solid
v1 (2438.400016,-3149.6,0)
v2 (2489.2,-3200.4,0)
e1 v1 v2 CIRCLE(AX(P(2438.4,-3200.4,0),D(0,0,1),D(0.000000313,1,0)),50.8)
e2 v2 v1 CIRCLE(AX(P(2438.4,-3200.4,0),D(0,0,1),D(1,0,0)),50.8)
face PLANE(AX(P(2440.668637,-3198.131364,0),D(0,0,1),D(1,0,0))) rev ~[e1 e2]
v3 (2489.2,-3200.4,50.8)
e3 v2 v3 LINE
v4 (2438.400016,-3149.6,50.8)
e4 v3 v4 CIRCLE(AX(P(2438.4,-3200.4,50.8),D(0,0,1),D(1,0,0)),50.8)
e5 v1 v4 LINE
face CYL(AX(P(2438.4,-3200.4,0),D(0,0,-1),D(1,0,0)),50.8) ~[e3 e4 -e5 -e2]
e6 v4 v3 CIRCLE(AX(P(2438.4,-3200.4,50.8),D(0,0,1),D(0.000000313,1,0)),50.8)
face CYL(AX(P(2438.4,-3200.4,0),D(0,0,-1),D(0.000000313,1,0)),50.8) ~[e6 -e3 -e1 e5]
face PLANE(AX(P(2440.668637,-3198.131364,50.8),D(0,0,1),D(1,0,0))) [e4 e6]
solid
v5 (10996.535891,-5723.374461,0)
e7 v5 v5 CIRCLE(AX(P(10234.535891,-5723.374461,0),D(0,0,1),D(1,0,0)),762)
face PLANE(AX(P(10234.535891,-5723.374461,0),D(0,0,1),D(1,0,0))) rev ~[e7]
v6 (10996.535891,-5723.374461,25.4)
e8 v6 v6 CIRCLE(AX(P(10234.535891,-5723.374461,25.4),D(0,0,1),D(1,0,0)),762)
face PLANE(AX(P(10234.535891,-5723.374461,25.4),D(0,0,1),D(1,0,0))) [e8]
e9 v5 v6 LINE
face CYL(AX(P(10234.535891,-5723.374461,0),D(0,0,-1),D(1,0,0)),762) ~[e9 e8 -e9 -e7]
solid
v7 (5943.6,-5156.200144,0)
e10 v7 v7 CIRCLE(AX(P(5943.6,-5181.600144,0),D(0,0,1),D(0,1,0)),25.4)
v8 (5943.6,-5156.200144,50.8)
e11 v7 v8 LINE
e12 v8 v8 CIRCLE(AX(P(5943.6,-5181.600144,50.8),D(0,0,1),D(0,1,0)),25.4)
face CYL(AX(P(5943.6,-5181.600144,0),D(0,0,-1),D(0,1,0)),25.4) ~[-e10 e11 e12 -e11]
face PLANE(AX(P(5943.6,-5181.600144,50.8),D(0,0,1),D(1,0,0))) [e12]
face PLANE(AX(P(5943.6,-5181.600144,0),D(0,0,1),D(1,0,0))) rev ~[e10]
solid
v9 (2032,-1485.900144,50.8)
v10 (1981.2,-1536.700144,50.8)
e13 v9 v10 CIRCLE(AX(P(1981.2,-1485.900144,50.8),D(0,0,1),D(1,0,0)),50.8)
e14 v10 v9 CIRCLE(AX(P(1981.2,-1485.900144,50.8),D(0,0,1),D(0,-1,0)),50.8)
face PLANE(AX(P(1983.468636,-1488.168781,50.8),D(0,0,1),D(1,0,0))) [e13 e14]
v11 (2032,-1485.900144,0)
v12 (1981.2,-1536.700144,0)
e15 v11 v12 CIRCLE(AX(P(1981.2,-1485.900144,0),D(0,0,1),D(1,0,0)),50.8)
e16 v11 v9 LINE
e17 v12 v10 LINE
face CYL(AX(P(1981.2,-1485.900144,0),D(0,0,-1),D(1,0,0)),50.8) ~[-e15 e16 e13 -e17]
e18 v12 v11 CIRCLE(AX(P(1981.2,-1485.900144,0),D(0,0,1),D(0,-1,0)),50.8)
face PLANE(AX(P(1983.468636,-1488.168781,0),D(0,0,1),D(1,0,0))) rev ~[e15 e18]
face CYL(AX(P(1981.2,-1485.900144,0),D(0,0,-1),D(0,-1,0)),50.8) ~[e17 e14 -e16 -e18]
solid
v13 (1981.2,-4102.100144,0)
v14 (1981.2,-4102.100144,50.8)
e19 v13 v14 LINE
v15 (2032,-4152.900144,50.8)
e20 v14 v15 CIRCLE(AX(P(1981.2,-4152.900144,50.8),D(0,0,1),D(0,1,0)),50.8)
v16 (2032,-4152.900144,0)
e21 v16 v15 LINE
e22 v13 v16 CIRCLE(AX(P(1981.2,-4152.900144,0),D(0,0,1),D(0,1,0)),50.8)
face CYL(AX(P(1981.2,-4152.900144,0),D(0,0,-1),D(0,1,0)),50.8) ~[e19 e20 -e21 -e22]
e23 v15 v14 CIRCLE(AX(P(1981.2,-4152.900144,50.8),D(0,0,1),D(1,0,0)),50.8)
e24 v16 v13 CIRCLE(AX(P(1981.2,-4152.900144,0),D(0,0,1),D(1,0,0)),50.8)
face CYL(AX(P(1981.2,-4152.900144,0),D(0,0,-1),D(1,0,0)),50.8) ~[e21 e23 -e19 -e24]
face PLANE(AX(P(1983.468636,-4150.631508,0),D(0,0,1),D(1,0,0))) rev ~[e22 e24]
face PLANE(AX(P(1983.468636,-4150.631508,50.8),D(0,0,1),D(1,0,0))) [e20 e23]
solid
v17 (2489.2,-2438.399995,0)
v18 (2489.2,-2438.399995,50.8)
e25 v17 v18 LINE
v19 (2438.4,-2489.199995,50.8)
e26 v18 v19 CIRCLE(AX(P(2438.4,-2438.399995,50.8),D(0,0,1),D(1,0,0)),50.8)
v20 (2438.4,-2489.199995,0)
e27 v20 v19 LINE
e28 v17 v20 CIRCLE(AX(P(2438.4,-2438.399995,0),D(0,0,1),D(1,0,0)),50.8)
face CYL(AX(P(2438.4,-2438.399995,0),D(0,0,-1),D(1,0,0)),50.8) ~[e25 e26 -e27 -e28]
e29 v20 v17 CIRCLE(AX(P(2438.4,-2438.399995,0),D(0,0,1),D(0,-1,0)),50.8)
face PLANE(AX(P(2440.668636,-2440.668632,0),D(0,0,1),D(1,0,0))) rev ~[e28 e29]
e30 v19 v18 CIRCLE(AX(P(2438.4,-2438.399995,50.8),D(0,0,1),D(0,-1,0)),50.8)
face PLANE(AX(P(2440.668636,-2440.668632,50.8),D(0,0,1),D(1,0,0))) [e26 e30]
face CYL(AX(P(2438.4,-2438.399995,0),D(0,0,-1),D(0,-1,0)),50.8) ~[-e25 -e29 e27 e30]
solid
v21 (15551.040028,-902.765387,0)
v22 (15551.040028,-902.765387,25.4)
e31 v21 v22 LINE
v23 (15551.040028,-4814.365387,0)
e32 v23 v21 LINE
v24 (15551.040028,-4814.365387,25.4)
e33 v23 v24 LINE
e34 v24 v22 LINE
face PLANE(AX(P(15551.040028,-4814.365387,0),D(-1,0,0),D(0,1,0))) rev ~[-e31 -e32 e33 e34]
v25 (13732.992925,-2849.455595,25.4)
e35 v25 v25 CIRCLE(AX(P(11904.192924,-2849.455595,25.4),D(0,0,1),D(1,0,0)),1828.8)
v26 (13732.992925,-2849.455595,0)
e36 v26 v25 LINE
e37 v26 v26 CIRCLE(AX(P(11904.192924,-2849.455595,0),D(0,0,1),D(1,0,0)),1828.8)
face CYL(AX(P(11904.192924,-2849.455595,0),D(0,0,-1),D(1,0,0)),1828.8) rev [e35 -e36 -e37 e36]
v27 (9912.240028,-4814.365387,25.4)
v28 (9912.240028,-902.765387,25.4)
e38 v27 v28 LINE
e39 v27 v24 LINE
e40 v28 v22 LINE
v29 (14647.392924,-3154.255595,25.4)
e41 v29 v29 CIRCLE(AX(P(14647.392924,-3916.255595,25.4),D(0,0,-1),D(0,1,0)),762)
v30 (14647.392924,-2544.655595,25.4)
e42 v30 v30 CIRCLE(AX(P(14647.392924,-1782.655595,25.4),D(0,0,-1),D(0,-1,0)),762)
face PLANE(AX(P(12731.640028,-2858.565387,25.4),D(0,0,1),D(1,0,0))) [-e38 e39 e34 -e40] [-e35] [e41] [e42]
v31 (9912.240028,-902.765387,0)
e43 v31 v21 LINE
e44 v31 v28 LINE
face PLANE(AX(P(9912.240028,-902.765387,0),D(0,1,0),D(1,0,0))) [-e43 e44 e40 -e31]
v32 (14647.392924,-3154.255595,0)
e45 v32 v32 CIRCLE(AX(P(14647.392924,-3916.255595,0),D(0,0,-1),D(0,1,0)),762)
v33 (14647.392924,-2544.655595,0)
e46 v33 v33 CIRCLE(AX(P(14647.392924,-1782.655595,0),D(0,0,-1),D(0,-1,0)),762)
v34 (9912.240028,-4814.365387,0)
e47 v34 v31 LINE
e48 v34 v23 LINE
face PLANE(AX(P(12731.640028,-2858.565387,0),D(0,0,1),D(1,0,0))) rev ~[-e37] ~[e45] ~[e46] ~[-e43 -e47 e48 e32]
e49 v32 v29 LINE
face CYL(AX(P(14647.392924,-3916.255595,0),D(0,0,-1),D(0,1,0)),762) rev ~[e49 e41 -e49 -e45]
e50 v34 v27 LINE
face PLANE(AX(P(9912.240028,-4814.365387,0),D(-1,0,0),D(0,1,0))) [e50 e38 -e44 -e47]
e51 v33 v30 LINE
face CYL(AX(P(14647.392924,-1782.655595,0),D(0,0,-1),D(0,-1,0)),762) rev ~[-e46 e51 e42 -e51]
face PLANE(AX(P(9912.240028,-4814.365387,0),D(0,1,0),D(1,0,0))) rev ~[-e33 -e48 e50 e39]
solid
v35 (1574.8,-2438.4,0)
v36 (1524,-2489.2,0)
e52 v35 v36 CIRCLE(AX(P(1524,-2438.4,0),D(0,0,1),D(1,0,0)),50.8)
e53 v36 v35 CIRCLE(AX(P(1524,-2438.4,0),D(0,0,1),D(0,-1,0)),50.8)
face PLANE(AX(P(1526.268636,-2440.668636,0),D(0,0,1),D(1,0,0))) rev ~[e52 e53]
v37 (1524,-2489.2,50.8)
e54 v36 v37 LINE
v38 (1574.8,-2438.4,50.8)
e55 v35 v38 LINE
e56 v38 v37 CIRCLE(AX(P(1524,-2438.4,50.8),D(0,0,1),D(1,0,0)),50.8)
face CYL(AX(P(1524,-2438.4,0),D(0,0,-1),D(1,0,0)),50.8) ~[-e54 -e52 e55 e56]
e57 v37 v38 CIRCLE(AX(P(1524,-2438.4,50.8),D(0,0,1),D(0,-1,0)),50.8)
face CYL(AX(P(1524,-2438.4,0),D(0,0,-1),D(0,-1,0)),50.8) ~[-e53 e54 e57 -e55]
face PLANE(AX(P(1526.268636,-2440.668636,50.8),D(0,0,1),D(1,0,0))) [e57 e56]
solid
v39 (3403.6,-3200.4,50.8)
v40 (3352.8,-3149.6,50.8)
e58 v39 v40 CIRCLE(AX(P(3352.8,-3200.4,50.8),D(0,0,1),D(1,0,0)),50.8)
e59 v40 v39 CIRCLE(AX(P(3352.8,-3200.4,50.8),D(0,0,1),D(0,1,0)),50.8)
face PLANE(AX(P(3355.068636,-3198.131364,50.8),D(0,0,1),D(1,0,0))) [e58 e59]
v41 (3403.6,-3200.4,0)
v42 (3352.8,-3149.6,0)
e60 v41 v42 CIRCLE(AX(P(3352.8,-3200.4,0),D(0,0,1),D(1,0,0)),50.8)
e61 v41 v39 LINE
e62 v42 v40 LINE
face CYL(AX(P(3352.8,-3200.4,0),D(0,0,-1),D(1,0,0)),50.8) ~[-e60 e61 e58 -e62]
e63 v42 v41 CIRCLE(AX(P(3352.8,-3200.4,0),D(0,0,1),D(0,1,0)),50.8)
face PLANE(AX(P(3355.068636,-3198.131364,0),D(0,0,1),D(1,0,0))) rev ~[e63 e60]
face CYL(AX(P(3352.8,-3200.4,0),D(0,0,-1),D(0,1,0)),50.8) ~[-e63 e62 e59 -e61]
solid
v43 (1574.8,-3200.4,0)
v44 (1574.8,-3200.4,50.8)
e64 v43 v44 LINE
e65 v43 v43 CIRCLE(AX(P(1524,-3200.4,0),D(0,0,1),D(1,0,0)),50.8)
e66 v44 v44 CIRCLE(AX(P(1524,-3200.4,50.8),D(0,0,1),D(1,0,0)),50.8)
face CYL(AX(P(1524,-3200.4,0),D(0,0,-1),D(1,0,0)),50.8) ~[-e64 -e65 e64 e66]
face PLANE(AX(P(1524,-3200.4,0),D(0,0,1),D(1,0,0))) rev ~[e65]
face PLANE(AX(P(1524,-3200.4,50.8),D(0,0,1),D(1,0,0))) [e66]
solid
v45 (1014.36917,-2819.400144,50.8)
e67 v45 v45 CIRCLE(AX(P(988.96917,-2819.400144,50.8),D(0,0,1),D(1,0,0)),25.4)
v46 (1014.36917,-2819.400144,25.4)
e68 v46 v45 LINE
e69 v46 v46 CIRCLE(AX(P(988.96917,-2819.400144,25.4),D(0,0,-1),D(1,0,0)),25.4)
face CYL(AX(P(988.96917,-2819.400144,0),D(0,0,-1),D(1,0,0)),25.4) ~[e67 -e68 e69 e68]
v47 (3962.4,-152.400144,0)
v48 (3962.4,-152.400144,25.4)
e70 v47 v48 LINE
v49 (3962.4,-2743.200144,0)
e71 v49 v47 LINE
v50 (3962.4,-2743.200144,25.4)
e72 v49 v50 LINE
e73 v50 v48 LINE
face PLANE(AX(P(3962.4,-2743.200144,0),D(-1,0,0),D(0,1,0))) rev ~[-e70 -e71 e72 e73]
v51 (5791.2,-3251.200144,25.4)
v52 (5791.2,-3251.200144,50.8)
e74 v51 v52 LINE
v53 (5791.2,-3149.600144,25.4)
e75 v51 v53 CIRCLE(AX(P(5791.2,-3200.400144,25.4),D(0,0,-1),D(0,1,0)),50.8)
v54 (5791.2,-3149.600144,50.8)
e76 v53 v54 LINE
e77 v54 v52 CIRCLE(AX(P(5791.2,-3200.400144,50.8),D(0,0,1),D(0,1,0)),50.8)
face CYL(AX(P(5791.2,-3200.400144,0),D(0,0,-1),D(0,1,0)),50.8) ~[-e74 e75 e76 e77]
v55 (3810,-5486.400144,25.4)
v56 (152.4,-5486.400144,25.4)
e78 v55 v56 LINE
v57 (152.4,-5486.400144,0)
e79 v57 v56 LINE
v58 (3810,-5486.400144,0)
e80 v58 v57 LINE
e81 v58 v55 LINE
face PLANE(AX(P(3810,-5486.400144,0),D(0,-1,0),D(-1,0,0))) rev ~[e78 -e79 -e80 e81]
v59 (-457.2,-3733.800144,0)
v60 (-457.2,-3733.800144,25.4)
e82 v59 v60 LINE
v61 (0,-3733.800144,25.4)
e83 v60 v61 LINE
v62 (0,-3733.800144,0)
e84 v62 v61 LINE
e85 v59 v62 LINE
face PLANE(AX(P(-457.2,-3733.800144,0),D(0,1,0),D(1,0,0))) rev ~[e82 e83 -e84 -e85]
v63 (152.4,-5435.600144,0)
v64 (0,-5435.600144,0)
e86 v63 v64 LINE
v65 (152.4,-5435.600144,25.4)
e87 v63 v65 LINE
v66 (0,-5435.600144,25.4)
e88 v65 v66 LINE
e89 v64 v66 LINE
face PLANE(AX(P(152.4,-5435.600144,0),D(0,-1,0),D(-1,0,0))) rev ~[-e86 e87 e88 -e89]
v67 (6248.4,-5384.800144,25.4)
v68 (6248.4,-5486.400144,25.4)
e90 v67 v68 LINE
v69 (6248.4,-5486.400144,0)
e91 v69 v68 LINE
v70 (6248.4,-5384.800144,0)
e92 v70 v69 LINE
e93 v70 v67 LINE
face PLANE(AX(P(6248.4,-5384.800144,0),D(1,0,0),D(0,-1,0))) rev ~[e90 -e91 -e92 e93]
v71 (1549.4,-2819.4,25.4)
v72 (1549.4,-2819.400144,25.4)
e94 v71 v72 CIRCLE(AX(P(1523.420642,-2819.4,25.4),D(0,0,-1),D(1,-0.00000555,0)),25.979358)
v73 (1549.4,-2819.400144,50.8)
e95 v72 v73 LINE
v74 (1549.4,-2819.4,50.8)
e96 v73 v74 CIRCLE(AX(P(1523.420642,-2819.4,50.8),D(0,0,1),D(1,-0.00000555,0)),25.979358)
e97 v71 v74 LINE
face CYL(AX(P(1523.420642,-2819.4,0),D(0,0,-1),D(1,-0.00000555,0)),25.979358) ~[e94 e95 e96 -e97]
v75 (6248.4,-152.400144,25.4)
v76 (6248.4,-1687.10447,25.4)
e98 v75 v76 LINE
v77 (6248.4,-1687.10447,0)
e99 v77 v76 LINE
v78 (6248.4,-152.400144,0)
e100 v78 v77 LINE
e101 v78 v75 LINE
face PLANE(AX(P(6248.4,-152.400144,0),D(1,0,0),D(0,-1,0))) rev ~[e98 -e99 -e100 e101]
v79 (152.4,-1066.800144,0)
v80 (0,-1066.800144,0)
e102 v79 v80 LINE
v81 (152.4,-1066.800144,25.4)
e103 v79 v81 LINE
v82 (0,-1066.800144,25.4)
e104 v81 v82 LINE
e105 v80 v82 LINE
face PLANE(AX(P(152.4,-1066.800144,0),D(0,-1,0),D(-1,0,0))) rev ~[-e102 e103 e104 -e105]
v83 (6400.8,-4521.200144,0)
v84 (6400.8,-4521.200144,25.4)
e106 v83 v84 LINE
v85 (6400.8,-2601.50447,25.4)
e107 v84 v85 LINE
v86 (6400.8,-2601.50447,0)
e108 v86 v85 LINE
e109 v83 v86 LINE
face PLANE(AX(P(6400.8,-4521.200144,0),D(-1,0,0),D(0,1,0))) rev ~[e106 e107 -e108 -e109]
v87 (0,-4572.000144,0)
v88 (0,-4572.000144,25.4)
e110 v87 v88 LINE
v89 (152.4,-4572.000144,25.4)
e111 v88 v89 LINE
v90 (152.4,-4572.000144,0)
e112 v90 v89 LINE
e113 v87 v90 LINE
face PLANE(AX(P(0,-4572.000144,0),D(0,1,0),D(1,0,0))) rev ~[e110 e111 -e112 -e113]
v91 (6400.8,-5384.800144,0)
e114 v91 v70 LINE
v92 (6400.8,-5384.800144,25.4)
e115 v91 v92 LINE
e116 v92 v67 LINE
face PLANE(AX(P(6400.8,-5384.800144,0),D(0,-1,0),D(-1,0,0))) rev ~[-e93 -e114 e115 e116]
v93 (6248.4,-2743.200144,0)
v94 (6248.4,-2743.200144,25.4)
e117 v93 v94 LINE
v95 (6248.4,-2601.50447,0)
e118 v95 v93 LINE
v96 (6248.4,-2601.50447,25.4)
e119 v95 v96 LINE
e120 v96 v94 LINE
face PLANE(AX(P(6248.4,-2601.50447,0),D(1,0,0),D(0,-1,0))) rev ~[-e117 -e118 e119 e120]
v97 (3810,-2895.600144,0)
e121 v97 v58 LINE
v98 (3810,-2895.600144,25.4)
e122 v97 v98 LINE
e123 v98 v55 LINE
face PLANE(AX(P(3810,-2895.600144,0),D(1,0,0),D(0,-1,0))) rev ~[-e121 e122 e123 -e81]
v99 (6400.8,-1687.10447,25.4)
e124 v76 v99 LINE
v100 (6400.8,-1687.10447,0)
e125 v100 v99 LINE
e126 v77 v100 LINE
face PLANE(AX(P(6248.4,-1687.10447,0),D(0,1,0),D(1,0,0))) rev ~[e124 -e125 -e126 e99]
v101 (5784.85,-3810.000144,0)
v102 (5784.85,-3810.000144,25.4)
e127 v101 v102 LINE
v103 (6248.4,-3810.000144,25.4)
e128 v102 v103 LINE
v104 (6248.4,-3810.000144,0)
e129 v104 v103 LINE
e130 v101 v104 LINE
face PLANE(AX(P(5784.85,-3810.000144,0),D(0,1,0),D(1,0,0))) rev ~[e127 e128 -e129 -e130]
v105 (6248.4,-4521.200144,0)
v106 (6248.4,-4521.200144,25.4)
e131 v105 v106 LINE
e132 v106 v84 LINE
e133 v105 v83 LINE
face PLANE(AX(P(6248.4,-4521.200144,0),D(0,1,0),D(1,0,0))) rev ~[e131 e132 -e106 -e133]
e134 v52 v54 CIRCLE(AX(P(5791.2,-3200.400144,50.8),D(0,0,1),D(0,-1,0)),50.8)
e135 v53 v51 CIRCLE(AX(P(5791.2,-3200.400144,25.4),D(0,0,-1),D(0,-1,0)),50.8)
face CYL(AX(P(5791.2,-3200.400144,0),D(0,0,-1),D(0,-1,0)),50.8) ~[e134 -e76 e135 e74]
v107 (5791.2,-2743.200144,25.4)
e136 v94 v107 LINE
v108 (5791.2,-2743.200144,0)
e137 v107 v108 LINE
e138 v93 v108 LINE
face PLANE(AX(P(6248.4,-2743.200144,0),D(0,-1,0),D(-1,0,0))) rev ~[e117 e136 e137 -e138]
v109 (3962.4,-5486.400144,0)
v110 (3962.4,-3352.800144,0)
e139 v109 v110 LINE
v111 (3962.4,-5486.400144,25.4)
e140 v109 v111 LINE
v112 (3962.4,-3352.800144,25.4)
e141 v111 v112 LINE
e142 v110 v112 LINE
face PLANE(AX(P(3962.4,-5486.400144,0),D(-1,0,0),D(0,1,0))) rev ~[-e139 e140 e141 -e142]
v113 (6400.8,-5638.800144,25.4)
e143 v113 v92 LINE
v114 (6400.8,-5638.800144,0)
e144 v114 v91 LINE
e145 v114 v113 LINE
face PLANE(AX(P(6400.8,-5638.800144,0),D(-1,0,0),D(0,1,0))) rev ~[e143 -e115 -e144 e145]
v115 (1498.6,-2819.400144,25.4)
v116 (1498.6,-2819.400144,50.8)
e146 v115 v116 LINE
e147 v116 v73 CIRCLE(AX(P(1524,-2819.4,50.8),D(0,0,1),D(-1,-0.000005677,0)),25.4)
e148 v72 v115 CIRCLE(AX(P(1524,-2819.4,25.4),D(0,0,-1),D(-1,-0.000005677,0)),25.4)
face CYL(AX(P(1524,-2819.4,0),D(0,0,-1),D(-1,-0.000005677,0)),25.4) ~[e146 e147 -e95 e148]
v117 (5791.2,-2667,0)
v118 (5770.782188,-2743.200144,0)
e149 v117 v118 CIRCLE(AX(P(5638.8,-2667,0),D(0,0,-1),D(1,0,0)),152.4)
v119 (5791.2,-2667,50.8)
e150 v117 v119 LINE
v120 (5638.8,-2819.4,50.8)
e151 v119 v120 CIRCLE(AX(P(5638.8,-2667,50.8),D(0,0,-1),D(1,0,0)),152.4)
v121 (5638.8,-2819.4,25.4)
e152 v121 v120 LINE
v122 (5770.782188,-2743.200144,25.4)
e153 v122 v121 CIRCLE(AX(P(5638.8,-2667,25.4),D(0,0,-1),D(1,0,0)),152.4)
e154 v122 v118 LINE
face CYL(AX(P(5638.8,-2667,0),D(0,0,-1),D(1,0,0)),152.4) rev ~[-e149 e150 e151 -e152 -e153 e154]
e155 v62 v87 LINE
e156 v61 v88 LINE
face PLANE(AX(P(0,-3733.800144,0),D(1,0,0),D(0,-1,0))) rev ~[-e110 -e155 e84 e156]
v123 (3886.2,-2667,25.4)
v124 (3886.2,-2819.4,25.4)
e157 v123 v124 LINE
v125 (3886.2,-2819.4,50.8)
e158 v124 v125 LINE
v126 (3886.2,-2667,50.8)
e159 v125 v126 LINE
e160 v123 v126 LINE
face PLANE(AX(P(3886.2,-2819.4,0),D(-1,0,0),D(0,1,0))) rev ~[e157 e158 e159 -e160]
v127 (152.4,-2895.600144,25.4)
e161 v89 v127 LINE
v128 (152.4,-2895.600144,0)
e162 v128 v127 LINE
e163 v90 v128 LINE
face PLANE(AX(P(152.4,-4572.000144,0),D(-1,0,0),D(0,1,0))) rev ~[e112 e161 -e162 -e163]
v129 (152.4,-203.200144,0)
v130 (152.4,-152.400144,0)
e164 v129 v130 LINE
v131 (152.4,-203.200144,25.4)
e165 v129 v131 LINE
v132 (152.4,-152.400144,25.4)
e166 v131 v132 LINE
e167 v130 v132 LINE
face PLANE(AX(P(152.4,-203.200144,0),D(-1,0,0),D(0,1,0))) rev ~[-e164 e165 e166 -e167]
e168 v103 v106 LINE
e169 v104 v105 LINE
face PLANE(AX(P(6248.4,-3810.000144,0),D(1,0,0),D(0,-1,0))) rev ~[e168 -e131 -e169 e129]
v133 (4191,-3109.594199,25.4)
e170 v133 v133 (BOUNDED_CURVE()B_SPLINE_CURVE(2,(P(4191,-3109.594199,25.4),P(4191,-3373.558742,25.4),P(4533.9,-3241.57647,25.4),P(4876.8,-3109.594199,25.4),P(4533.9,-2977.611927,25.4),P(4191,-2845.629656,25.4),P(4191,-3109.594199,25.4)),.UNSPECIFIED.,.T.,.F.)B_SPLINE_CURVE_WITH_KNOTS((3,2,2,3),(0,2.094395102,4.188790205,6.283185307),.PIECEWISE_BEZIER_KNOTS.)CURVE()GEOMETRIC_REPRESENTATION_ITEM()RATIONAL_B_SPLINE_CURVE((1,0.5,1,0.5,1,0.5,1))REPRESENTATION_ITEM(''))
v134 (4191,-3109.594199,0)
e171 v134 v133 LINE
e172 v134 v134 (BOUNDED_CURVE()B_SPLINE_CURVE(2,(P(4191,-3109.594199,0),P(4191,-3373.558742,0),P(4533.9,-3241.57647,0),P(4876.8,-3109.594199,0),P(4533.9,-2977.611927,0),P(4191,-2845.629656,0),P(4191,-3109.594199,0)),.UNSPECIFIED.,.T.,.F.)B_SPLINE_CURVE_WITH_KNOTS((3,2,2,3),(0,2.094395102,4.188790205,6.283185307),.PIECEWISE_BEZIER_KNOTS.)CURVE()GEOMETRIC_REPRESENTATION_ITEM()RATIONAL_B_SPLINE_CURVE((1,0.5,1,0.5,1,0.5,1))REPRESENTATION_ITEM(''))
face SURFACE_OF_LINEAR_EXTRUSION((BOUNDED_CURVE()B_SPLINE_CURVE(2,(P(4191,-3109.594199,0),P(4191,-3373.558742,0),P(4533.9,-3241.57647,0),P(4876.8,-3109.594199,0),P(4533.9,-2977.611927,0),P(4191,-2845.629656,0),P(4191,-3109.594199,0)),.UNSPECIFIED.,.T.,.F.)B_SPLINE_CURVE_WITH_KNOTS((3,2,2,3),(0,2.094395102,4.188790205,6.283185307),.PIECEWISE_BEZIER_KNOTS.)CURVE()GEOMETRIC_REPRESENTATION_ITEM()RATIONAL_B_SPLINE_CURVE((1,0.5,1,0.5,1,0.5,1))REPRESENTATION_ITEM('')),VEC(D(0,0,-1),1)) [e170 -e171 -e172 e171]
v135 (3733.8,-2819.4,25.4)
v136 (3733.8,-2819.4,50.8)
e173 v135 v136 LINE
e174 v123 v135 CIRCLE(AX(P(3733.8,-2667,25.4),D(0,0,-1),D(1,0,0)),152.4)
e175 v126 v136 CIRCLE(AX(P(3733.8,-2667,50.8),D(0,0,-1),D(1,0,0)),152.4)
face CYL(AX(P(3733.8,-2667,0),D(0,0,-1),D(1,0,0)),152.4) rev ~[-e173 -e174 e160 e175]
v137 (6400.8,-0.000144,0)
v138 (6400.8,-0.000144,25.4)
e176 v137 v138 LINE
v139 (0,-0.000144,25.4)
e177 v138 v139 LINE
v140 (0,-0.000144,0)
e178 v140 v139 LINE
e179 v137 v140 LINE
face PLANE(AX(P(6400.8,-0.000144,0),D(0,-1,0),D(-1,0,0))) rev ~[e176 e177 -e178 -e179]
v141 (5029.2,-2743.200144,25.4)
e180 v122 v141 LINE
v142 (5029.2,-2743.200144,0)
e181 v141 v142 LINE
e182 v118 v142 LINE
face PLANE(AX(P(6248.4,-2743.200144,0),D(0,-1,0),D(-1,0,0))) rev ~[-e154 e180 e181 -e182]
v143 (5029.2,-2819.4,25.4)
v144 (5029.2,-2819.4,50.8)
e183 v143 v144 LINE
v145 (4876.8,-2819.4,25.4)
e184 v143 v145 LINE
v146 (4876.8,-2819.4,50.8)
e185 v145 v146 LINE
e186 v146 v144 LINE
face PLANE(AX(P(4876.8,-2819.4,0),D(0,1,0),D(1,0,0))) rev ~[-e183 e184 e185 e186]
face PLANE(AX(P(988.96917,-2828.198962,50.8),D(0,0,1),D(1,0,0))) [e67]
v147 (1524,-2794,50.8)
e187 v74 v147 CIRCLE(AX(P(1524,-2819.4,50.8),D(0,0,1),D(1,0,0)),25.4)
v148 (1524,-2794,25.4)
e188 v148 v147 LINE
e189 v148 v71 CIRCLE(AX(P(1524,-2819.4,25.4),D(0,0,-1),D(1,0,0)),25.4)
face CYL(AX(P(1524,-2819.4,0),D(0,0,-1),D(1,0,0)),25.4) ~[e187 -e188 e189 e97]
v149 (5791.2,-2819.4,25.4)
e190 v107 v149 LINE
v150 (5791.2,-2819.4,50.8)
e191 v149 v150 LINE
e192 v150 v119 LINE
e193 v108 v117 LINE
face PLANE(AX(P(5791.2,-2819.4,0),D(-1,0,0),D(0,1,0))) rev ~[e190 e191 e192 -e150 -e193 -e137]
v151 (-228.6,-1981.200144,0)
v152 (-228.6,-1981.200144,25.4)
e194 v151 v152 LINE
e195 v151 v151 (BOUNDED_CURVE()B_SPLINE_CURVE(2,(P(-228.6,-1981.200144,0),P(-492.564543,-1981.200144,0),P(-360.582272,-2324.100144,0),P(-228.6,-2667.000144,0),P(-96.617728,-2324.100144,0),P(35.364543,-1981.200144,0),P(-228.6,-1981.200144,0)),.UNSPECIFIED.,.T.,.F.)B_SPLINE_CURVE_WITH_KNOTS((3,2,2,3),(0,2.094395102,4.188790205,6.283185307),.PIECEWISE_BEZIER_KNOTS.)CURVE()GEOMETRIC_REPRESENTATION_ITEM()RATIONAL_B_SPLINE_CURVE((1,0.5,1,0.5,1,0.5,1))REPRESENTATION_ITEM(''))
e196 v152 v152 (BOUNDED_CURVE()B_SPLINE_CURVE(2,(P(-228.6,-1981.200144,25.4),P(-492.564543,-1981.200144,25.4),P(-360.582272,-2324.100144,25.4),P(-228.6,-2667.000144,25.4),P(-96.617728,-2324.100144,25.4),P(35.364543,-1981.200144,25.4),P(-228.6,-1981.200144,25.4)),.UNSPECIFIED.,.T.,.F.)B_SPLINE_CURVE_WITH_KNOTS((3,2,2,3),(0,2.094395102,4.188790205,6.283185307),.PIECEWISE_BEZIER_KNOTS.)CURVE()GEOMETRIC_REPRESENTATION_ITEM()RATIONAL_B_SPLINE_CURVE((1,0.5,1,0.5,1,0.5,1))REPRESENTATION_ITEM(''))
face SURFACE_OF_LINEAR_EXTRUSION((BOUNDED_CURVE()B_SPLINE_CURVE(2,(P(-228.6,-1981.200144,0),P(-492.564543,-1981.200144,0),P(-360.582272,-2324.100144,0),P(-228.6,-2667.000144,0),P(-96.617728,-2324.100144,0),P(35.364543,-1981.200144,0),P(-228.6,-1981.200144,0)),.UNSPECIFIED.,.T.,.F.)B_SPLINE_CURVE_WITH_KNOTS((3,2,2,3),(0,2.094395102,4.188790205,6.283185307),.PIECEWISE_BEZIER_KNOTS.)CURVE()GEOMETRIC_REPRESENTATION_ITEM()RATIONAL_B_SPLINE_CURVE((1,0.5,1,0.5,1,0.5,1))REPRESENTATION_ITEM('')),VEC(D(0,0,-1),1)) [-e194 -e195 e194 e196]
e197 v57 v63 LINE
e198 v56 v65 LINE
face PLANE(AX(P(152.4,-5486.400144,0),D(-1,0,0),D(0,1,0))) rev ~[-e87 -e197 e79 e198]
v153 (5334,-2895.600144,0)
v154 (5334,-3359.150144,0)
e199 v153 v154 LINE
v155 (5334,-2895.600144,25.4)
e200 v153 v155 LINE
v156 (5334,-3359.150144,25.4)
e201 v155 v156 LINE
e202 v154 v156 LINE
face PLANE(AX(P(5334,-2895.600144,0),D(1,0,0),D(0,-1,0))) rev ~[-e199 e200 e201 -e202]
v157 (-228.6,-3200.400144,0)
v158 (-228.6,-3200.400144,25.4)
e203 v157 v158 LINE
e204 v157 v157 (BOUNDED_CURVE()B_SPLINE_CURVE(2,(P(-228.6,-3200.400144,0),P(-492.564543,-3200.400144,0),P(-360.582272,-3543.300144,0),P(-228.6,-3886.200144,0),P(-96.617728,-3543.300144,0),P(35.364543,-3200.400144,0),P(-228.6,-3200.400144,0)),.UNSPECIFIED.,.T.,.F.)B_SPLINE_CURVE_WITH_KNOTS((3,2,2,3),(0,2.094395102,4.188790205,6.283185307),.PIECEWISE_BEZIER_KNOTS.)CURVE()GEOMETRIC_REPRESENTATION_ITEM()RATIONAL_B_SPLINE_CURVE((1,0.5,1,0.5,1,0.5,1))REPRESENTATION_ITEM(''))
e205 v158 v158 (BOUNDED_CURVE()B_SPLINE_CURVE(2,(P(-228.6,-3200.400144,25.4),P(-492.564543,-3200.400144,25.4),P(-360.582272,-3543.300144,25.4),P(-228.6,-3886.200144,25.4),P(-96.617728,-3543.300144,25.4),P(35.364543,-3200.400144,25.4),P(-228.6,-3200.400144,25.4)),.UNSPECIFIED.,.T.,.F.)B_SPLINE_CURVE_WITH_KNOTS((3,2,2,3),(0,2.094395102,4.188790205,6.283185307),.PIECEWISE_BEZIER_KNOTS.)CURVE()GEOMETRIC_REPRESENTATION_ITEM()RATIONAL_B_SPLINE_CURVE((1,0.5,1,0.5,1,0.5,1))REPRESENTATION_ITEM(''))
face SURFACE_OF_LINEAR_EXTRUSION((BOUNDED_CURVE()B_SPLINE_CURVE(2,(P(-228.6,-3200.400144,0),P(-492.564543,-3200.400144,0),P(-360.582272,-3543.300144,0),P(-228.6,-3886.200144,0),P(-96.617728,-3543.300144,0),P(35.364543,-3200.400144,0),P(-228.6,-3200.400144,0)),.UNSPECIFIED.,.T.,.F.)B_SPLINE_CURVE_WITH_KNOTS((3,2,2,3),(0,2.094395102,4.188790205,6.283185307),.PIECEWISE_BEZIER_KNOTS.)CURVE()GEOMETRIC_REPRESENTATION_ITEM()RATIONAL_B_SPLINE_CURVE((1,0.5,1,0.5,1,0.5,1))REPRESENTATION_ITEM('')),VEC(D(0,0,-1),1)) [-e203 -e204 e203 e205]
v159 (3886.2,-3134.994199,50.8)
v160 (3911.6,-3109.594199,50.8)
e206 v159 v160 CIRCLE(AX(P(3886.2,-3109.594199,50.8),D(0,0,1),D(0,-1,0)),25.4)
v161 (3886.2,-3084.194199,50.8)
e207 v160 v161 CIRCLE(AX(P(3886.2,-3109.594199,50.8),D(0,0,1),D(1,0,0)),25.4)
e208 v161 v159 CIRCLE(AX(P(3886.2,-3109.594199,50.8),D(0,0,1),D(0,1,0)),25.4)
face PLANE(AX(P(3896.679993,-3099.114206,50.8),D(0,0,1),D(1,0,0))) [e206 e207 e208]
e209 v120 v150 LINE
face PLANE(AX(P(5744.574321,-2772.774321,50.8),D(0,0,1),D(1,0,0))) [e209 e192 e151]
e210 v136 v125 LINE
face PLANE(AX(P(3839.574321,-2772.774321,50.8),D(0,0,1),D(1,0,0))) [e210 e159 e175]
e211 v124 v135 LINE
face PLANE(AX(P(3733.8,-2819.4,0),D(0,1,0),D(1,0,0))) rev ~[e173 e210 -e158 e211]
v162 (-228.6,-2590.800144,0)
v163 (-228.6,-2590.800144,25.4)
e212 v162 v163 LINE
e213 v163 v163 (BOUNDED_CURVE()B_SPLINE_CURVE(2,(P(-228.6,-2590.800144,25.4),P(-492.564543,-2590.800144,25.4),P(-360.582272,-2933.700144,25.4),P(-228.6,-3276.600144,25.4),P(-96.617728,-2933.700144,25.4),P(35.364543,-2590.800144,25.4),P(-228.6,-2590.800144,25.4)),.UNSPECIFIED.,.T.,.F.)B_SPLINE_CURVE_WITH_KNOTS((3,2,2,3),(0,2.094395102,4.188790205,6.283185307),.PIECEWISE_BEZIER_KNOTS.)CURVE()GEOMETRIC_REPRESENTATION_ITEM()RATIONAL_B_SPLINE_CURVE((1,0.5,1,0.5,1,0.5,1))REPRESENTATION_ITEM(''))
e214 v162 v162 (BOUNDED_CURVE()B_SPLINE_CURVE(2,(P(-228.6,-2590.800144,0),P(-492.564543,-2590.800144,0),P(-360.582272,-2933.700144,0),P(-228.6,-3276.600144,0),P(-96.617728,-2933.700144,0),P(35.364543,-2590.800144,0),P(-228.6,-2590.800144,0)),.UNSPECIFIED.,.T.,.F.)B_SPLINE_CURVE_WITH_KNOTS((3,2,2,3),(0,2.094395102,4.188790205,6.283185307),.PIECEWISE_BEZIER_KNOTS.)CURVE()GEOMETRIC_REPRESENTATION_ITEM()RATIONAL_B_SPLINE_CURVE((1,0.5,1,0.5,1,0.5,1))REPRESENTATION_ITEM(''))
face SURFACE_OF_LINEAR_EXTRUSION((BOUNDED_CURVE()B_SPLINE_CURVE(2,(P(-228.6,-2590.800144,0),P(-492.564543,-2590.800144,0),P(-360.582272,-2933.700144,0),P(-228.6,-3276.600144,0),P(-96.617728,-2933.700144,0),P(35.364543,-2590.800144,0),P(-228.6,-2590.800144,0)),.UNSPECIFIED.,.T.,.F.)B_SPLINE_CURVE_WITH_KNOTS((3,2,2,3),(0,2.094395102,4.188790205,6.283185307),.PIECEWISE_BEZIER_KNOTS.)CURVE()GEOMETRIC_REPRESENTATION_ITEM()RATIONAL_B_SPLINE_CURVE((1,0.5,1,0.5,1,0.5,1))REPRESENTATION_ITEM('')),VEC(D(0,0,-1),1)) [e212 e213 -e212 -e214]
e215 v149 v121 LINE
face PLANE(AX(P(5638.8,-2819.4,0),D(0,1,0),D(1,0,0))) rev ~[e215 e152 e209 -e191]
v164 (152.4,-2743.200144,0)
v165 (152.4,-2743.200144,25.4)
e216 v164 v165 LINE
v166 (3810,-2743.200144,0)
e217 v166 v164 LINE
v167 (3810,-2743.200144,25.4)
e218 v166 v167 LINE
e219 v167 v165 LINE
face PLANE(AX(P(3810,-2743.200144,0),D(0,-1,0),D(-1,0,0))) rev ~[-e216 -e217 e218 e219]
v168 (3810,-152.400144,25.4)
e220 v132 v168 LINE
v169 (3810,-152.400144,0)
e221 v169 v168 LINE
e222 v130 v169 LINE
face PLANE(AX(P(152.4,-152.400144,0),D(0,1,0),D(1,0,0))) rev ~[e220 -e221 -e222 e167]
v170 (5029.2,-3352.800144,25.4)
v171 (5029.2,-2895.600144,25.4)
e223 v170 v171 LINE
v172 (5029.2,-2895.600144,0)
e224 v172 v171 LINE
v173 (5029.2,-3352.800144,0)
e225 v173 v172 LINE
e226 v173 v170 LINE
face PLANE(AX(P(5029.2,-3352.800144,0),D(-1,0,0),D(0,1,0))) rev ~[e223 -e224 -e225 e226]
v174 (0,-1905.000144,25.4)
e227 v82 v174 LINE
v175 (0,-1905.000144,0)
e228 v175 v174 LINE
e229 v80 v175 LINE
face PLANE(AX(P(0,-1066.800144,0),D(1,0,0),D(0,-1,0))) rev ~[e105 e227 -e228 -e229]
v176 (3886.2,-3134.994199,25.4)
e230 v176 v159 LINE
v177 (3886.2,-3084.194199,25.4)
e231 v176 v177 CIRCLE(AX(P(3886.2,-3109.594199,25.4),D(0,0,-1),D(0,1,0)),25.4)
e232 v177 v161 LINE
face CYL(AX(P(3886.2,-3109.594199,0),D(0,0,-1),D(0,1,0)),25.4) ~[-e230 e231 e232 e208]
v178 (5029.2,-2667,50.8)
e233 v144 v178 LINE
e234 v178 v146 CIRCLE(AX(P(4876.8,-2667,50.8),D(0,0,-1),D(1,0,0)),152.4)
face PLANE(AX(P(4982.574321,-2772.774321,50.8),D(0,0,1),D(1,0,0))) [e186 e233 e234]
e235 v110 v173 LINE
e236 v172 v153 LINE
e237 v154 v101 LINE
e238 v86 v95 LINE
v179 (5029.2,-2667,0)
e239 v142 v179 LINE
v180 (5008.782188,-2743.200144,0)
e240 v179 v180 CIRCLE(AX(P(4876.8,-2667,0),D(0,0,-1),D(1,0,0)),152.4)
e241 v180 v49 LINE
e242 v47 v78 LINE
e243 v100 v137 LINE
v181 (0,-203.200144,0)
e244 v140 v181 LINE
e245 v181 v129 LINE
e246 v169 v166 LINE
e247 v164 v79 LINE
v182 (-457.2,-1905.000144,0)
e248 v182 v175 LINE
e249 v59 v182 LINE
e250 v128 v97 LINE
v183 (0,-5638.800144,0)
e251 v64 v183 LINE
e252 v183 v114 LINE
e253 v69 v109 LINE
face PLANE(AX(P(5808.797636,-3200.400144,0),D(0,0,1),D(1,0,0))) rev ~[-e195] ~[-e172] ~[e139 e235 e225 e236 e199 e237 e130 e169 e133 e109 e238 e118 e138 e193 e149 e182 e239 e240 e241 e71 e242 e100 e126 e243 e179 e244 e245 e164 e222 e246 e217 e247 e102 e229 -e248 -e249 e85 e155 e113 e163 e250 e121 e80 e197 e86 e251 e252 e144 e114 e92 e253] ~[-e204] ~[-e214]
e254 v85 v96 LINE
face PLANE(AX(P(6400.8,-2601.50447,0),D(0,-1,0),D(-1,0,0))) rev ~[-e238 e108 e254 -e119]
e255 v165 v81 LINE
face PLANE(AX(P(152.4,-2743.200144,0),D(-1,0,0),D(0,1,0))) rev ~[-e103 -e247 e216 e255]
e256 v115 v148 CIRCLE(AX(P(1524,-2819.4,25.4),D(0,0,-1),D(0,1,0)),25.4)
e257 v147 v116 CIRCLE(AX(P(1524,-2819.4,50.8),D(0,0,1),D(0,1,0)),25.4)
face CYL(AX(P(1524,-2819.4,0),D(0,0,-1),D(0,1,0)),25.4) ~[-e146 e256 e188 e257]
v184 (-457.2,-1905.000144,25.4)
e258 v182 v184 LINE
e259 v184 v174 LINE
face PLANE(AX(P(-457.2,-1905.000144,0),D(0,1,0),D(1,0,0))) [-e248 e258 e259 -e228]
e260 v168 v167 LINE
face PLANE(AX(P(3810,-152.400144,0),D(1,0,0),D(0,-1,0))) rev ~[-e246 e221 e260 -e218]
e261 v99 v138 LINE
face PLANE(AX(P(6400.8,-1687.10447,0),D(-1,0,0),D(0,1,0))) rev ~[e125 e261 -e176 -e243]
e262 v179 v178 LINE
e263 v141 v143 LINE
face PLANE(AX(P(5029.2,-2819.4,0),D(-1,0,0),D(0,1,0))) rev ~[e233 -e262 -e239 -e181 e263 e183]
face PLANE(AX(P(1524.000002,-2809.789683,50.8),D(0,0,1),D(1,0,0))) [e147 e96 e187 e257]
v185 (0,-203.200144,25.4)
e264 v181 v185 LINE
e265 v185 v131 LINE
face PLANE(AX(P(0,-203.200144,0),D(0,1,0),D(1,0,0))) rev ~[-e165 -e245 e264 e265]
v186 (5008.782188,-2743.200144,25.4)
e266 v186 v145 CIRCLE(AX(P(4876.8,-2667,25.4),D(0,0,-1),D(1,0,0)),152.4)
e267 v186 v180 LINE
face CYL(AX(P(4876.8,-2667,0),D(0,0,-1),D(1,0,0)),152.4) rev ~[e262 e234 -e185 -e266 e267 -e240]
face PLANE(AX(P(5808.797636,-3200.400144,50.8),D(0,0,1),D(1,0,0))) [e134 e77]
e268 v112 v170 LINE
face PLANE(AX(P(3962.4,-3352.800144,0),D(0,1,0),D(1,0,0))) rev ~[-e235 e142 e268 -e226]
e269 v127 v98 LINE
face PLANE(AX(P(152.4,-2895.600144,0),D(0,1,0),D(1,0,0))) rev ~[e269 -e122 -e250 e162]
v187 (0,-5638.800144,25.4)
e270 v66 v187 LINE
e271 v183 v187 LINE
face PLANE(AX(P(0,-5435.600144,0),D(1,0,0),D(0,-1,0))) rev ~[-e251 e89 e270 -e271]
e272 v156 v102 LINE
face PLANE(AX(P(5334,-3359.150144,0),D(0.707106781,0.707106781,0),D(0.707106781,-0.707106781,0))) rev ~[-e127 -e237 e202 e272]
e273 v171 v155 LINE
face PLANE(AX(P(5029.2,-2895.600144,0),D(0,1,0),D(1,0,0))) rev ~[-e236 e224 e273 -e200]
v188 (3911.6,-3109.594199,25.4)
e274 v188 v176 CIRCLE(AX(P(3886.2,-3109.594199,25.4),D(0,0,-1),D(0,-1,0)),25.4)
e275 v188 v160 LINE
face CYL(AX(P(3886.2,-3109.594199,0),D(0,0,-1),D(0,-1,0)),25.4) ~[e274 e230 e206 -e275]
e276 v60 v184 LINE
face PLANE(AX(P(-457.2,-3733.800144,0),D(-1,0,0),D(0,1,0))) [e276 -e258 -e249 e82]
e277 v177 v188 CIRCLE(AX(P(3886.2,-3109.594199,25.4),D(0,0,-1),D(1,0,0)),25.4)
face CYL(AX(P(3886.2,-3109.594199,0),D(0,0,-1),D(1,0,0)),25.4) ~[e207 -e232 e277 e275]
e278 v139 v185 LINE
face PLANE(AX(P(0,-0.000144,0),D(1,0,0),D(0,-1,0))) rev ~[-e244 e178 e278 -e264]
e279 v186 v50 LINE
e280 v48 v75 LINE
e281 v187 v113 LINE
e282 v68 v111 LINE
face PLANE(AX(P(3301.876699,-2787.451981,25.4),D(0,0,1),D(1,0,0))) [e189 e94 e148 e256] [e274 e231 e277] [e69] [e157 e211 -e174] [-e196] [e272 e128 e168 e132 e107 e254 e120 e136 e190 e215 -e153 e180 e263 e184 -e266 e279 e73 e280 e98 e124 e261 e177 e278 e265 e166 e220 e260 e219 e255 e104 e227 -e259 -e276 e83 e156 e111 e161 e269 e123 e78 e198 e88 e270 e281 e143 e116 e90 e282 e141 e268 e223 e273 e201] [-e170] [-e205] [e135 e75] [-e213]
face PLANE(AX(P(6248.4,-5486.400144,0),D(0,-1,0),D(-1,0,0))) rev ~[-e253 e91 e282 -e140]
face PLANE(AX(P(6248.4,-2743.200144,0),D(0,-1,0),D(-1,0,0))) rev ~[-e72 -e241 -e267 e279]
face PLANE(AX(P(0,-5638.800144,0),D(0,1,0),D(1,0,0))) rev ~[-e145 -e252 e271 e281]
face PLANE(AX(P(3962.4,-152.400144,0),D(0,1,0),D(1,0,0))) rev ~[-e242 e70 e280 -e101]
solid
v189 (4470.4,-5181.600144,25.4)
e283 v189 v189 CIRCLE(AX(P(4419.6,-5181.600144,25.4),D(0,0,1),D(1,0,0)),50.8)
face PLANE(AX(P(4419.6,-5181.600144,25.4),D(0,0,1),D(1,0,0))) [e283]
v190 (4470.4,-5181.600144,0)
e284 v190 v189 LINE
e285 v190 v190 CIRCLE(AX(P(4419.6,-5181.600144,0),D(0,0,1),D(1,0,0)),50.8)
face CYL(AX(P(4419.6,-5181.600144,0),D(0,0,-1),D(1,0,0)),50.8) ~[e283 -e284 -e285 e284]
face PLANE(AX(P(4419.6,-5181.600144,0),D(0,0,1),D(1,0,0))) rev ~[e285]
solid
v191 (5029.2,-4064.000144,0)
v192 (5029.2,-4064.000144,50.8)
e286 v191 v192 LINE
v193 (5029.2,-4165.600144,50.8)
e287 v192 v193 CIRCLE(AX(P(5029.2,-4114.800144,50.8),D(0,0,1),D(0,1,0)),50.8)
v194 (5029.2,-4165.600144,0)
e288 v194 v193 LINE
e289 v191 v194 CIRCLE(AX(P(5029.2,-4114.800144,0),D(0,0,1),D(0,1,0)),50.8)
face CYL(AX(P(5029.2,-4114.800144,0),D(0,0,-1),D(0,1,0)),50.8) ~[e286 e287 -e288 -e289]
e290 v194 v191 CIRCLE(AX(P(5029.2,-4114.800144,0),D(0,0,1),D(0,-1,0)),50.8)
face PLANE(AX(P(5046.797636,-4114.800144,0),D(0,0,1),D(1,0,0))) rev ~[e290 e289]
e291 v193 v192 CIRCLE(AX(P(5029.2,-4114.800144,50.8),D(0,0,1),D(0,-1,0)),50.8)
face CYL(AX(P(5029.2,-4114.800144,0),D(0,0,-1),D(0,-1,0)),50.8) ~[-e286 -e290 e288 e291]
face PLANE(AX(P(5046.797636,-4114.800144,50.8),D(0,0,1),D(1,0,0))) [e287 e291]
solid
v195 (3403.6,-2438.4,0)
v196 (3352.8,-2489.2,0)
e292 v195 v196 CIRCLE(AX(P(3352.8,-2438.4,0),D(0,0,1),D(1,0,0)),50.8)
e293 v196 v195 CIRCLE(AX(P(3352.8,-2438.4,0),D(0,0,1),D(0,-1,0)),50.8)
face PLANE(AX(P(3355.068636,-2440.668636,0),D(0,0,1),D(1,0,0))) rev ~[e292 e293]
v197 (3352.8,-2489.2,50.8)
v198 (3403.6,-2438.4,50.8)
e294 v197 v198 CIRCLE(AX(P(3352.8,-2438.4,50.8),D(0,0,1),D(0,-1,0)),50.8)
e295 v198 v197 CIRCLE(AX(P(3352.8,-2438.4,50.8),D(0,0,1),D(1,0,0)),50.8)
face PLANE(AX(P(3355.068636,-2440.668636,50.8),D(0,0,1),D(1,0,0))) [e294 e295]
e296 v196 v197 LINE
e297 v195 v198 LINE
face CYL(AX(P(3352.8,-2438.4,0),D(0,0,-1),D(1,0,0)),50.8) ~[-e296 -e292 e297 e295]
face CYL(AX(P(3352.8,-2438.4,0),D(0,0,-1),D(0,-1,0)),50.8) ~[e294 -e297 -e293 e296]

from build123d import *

# Parameters (mm, degrees)
F1_W     = 457.2
F1_H     = 1828.8
F1_W_2   = 1066.8
F1_H_2   = 457.2
F3_DEPTH = 25.4
F1_W_3   = 5638.8
F1_H_3   = 3911.6
F1_R     = 1828.8
F1_R_2   = 762
F1_R_3   = 50.8
F4_DEPTH = 50.8
F2_R     = 50.8


with BuildPart() as f3:
    # F1 (on Top) → F3 (new body)
    with BuildSketch(Plane.XY):
        Polygon((1066.8, -2743.2001441956), (152.4, -2743.2001441956), (152.4, -1066.8001441956), (0, -1066.8001441956), (0, -1905.0001441956), (0, -3733.8001441956), (0, -4572.0001441956), (152.4, -4572.0001441956), (152.4, -2895.6001441956), (1066.8, -2895.6001441956), (1981.2, -2895.6001441956), (2895.6, -2895.6001441956), (3810, -2895.6001441956), (3810, -4419.6001441956), (3810, -5486.4001441956), (152.4, -5486.4001441956), (152.4, -5435.6001441956), (76.2, -5435.6001441956), (0, -5435.6001441956), (0, -5638.8001441956), (6400.8, -5638.8001441956), (6400.8, -5384.8001441956), (6324.6, -5384.8001441956), (6248.4, -5384.8001441956), (6248.4, -5486.4001441956), (3962.4, -5486.4001441956), (3962.4, -3352.8001441956), (3962.4, -2895.6001441956), (5029.2, -2895.6001441956), (5334, -2895.6001441956), (6248.4, -2895.6001441956), (6248.4, -3810.0001441956), (6248.4, -4521.2001441956), (6400.8, -4521.2001441956), (6400.8, -2601.5044700622), (6324.6, -2601.5044700622), (6248.4, -2601.5044700622), (6248.4, -2743.2001441956), (3962.4, -2743.2001441956), (3962.4, -152.4001441955), (6248.4, -152.4001441955), (6248.4, -1687.1044700622), (6400.8, -1687.1044700622), (6400.8, -0.0001441956), (3962.4, -0.0001441956), (0, -0.0001441956), (0, -203.2001441956), (76.2, -203.2001441956), (152.4, -203.2001441956), (152.4, -152.4001441956), (3810, -152.4001441955), (3810, -1219.2001441956), (3810, -2743.2001441956), (2895.6, -2743.2001441956), (1981.2, -2743.2001441956), align=None)
        with Locations((-228.6, -2819.4001441956)):
            Rectangle(F1_W, F1_H)
        with BuildLine():
            add(Edge.make_bspline(
                [(-228.6, -3200.4001441956), (-492.5645430735, -3200.4001441956), (-360.5822715367, -3543.3001441956), (-228.6, -3886.2001441956), (-96.6177284633, -3543.3001441956), (35.3645430735, -3200.4001441956), (-228.6, -3200.4001441956)],
                knots=[0, 0, 0, 2.0943951024, 2.0943951024, 4.1887902048, 4.1887902048, 6.2831853072, 6.2831853072, 6.2831853072], degree=2, weights=[1, 0.5, 1, 0.5, 1, 0.5, 1]))
        make_face(mode=Mode.SUBTRACT)
        with BuildLine():
            add(Edge.make_bspline(
                [(-228.6, -2590.8001441956), (-492.5645430735, -2590.8001441956), (-360.5822715367, -2933.7001441956), (-228.6, -3276.6001441956), (-96.6177284633, -2933.7001441956), (35.3645430735, -2590.8001441956), (-228.6, -2590.8001441956)],
                knots=[0, 0, 0, 2.0943951024, 2.0943951024, 4.1887902048, 4.1887902048, 6.2831853072, 6.2831853072, 6.2831853072], degree=2, weights=[1, 0.5, 1, 0.5, 1, 0.5, 1]))
        make_face(mode=Mode.SUBTRACT)
        with BuildLine():
            add(Edge.make_bspline(
                [(-228.6, -1981.2001441956), (-492.5645430735, -1981.2001441956), (-360.5822715367, -2324.1001441956), (-228.6, -2667.0001441956), (-96.6177284633, -2324.1001441956), (35.3645430735, -1981.2001441956), (-228.6, -1981.2001441956)],
                knots=[0, 0, 0, 2.0943951024, 2.0943951024, 4.1887902048, 4.1887902048, 6.2831853072, 6.2831853072, 6.2831853072], degree=2, weights=[1, 0.5, 1, 0.5, 1, 0.5, 1]))
        make_face(mode=Mode.SUBTRACT)
        Polygon((5784.85, -3810.0001441956), (6248.4, -3810.0001441956), (6248.4, -2895.6001441956), (5334, -2895.6001441956), (5334, -3359.1501441956), align=None)
        with Locations((4495.8, -3124.2001441956)):
            Rectangle(F1_W_2, F1_H_2)
        with BuildLine():
            add(Edge.make_bspline(
                [(4191, -3109.5941986084), (4191, -3373.5587416819), (4533.9, -3241.5764701451), (4876.8, -3109.5941986084), (4533.9, -2977.6119270716), (4191, -2845.6296555349), (4191, -3109.5941986084)],
                knots=[0, 0, 0, 2.0943951024, 2.0943951024, 4.1887902048, 4.1887902048, 6.2831853072, 6.2831853072, 6.2831853072], degree=2, weights=[1, 0.5, 1, 0.5, 1, 0.5, 1]))
        make_face(mode=Mode.SUBTRACT)
    extrude(amount=F3_DEPTH)

    # F2 (on Top) → F4, piece 8 (join)
    with BuildSketch(Plane.XY):
        with BuildLine():
            ThreePointArc((5842, -3200.4001441956), (5827.1210244843, -3164.4791197113), (5791.2, -3149.6001441956))
            Line((5791.2, -3149.6001441956), (5791.2, -3251.2001441956))
            ThreePointArc((5791.2, -3251.2001441956), (5827.1210244843, -3236.3211686798), (5842, -3200.4001441956))
        make_face()
        with BuildLine():
            Line((5791.2, -3251.2001441956), (5791.2, -3149.6001441956))
            ThreePointArc((5791.2, -3149.6001441956), (5740.4, -3200.4001441956), (5791.2, -3251.2001441956))
        make_face()
        with BuildLine():
            ThreePointArc((3911.6, -3109.5941986084), (3904.1605122421, -3091.6336863662), (3886.2, -3084.1941986084))
            Line((3886.2, -3084.1941986084), (3886.2, -3109.5941986084))
            Line((3886.2, -3109.5941986084), (3911.6, -3109.5941986084))
        make_face()
        with BuildLine():
            Line((3886.2, -3109.5941986084), (3886.2, -3084.1941986084))
            ThreePointArc((3886.2, -3084.1941986084), (3860.8, -3109.5941986084), (3886.2, -3134.9941986084))
            Line((3886.2, -3134.9941986084), (3886.2, -3109.5941986084))
        make_face()
        with BuildLine():
            Line((3733.8, -2819.4), (3886.2, -2819.4))
            Line((3886.2, -2819.4), (3886.2, -2667))
            ThreePointArc((3886.2, -2667), (3841.5630734528, -2774.7630734528), (3733.8, -2819.4))
        make_face()
        with BuildLine():
            Line((4876.8, -2819.4), (5029.2, -2819.4))
            Line((5029.2, -2819.4), (5029.2, -2667))
            ThreePointArc((5029.2, -2667), (4984.5630734528, -2774.7630734528), (4876.8, -2819.4))
        make_face()
        with BuildLine():
            Line((5791.2, -2819.4), (5791.2, -2667))
            ThreePointArc((5791.2, -2667), (5746.5630734528, -2774.7630734528), (5638.8, -2819.4))
            Line((5638.8, -2819.4), (5791.2, -2819.4))
        make_face()
        with BuildLine():
            ThreePointArc((3886.2, -3134.9941986084), (3904.1605122421, -3127.5547108505), (3911.6, -3109.5941986084))
            Line((3911.6, -3109.5941986084), (3886.2, -3109.5941986084))
            Line((3886.2, -3109.5941986084), (3886.2, -3134.9941986084))
        make_face()
        with BuildLine():
            ThreePointArc((963.5691699066, -2819.4001441956), (988.9691699066, -2844.8001441956), (1014.3691699066, -2819.4001441956))
            Line((1014.3691699066, -2819.4001441956), (963.5691699066, -2819.4001441956))
        make_face()
        with BuildLine():
            Line((963.5691699066, -2819.4001441956), (1014.3691699066, -2819.4001441956))
            ThreePointArc((1014.3691699066, -2819.4001441956), (988.9691699066, -2794.0001441956), (963.5691699066, -2819.4001441956))
        make_face()
        with BuildLine():
            ThreePointArc((1549.4, -2819.4), (1541.9605122421, -2801.4394877579), (1524, -2794))
            ThreePointArc((1524, -2794), (1506.0394367771, -2801.4395387388), (1498.6000000004, -2819.4001441956))
            Line((1498.6000000004, -2819.4001441956), (1549.3999999996, -2819.4001441956))
            ThreePointArc((1549.3999999996, -2819.4001441956), (1549.3999999999, -2819.4000720978), (1549.4, -2819.4))
        make_face()
        with BuildLine():
            Line((1549.3999999996, -2819.4001441956), (1498.6000000004, -2819.4001441956))
            ThreePointArc((1498.6000000004, -2819.4001441956), (1524, -2844.8), (1549.3999999996, -2819.4001441956))
        make_face()
    extrude(amount=F4_DEPTH)


with BuildPart() as f3b:
    # F1 (on Top) → F3, piece 2 (new body)
    with BuildSketch(Plane.XY):
        with Locations((12731.6400283813, -2858.5653869629)):
            Rectangle(F1_W_3, F1_H_3)
        with BuildLine():
            ThreePointArc((15409.3929244995, -3916.2555950165), (14108.5775572354, -4455.0709622806), (14647.3929244995, -3154.2555950165))
            ThreePointArc((14647.3929244995, -3154.2555950165), (15186.2082917637, -3377.4402277523), (15409.3929244995, -3916.2555950165))
        make_face(mode=Mode.SUBTRACT)
        with Locations((11904.1929244995, -2849.4555950165)):
            Circle(F1_R, mode=Mode.SUBTRACT)
        with BuildLine():
            ThreePointArc((15409.3929244995, -1782.6555950165), (15186.2082917637, -2321.4709622806), (14647.3929244995, -2544.6555950165))
            ThreePointArc((14647.3929244995, -2544.6555950165), (14108.5775572354, -1243.8402277523), (15409.3929244995, -1782.6555950165))
        make_face(mode=Mode.SUBTRACT)
    extrude(amount=F3_DEPTH)


with BuildPart() as f3c:
    # F1 (on Top) → F3, piece 3 (new body)
    with BuildSketch(Plane.XY):
        with Locations((10234.5358913588, -5723.3744606053)):
            Circle(F1_R_2)
    extrude(amount=F3_DEPTH)


with BuildPart() as f3d:
    # F1 (on Top) → F3, piece 4 (new body)
    with BuildSketch(Plane.XY):
        with Locations((4419.6, -5181.6001441956)):
            Circle(F1_R_3)
    extrude(amount=F3_DEPTH)


with BuildPart() as f4:
    # F2 (on Top) → F4 (new body)
    with BuildSketch(Plane.XY):
        with BuildLine():
            ThreePointArc((5969, -5181.6001441956), (5961.5605122421, -5163.6396319534), (5943.6, -5156.2001441956))
            ThreePointArc((5943.6, -5156.2001441956), (5925.6394877579, -5199.5606564377), (5969, -5181.6001441956))
        make_face()
    extrude(amount=F4_DEPTH)


with BuildPart() as f4b:
    # F2 (on Top) → F4, piece 2 (new body)
    with BuildSketch(Plane.XY):
        with BuildLine():
            ThreePointArc((5080, -4114.8001441956), (5065.1210244843, -4078.8791197113), (5029.2, -4064.0001441956))
            Line((5029.2, -4064.0001441956), (5029.2, -4165.6001441956))
            ThreePointArc((5029.2, -4165.6001441956), (5065.1210244843, -4150.7211686798), (5080, -4114.8001441956))
        make_face()
        with BuildLine():
            Line((5029.2, -4165.6001441956), (5029.2, -4064.0001441956))
            ThreePointArc((5029.2, -4064.0001441956), (4978.4, -4114.8001441956), (5029.2, -4165.6001441956))
        make_face()
    extrude(amount=F4_DEPTH)


with BuildPart() as f4c:
    # F2 (on Top) → F4, piece 3 (new body)
    with BuildSketch(Plane.XY):
        with BuildLine():
            ThreePointArc((3403.6, -3200.4), (3388.7210244843, -3164.4789755157), (3352.8, -3149.6))
            ThreePointArc((3352.8, -3149.6), (3316.8789755157, -3236.3210244843), (3403.6, -3200.4))
        make_face()
    extrude(amount=F4_DEPTH)


with BuildPart() as f4d:
    # F2 (on Top) → F4, piece 4 (new body)
    with BuildSketch(Plane.XY):
        with BuildLine():
            ThreePointArc((2489.2, -3200.4), (2474.3210301105, -3164.478981142), (2438.4000159135, -3149.6))
            ThreePointArc((2438.4000159135, -3149.6), (2402.4789698895, -3236.321018858), (2489.2, -3200.4))
        make_face()
    extrude(amount=F4_DEPTH)


with BuildPart() as f4e:
    # F2 (on Top) → F4, piece 5 (new body)
    with BuildSketch(Plane.XY):
        with BuildLine():
            ThreePointArc((2489.2, -2438.3999951099), (2402.4789755157, -2402.4789706256), (2438.4, -2489.1999951099))
            ThreePointArc((2438.4, -2489.1999951099), (2474.3210244843, -2474.3210195942), (2489.2, -2438.3999951099))
        make_face()
    extrude(amount=F4_DEPTH)


with BuildPart() as f4f:
    # F2 (on Top) → F4, piece 6 (new body)
    with BuildSketch(Plane.XY):
        with BuildLine():
            ThreePointArc((3403.6, -2438.4), (3316.8789755157, -2402.4789755157), (3352.8, -2489.2))
            ThreePointArc((3352.8, -2489.2), (3388.7210244843, -2474.3210244843), (3403.6, -2438.4))
        make_face()
    extrude(amount=F4_DEPTH)


with BuildPart() as f4g:
    # F2 (on Top) → F4, piece 7 (new body)
    with BuildSketch(Plane.XY):
        with BuildLine():
            ThreePointArc((1524, -2489.2), (1559.9210244843, -2474.3210244843), (1574.8, -2438.4))
            ThreePointArc((1574.8, -2438.4), (1488.0789755157, -2402.4789755157), (1524, -2489.2))
        make_face()
    extrude(amount=F4_DEPTH)


with BuildPart() as f4h:
    # F2 (on Top) → F4, piece 9 (new body)
    with BuildSketch(Plane.XY):
        with Locations((1524, -3200.4)):
            Circle(F2_R)
    extrude(amount=F4_DEPTH)


with BuildPart() as f4i:
    # F2 (on Top) → F4, piece 10 (new body)
    with BuildSketch(Plane.XY):
        with BuildLine():
            ThreePointArc((1981.2, -4102.1001441956), (1945.2789755157, -4188.8211686798), (2032, -4152.9001441956))
            ThreePointArc((2032, -4152.9001441956), (2017.1210244843, -4116.9791197113), (1981.2, -4102.1001441956))
        make_face()
    extrude(amount=F4_DEPTH)


with BuildPart() as f4j:
    # F2 (on Top) → F4, piece 11 (new body)
    with BuildSketch(Plane.XY):
        with BuildLine():
            ThreePointArc((1981.2, -1536.7001441956), (2017.1210244843, -1521.8211686798), (2032, -1485.9001441956))
            ThreePointArc((2032, -1485.9001441956), (1945.2789755157, -1449.9791197113), (1981.2, -1536.7001441956))
        make_face()
    extrude(amount=F4_DEPTH)


solid = Compound([f3.part, f3b.part, f3c.part, f3d.part, f4.part, f4b.part, f4c.part, f4d.part, f4e.part, f4f.part, f4g.part, f4h.part, f4i.part, f4j.part])
